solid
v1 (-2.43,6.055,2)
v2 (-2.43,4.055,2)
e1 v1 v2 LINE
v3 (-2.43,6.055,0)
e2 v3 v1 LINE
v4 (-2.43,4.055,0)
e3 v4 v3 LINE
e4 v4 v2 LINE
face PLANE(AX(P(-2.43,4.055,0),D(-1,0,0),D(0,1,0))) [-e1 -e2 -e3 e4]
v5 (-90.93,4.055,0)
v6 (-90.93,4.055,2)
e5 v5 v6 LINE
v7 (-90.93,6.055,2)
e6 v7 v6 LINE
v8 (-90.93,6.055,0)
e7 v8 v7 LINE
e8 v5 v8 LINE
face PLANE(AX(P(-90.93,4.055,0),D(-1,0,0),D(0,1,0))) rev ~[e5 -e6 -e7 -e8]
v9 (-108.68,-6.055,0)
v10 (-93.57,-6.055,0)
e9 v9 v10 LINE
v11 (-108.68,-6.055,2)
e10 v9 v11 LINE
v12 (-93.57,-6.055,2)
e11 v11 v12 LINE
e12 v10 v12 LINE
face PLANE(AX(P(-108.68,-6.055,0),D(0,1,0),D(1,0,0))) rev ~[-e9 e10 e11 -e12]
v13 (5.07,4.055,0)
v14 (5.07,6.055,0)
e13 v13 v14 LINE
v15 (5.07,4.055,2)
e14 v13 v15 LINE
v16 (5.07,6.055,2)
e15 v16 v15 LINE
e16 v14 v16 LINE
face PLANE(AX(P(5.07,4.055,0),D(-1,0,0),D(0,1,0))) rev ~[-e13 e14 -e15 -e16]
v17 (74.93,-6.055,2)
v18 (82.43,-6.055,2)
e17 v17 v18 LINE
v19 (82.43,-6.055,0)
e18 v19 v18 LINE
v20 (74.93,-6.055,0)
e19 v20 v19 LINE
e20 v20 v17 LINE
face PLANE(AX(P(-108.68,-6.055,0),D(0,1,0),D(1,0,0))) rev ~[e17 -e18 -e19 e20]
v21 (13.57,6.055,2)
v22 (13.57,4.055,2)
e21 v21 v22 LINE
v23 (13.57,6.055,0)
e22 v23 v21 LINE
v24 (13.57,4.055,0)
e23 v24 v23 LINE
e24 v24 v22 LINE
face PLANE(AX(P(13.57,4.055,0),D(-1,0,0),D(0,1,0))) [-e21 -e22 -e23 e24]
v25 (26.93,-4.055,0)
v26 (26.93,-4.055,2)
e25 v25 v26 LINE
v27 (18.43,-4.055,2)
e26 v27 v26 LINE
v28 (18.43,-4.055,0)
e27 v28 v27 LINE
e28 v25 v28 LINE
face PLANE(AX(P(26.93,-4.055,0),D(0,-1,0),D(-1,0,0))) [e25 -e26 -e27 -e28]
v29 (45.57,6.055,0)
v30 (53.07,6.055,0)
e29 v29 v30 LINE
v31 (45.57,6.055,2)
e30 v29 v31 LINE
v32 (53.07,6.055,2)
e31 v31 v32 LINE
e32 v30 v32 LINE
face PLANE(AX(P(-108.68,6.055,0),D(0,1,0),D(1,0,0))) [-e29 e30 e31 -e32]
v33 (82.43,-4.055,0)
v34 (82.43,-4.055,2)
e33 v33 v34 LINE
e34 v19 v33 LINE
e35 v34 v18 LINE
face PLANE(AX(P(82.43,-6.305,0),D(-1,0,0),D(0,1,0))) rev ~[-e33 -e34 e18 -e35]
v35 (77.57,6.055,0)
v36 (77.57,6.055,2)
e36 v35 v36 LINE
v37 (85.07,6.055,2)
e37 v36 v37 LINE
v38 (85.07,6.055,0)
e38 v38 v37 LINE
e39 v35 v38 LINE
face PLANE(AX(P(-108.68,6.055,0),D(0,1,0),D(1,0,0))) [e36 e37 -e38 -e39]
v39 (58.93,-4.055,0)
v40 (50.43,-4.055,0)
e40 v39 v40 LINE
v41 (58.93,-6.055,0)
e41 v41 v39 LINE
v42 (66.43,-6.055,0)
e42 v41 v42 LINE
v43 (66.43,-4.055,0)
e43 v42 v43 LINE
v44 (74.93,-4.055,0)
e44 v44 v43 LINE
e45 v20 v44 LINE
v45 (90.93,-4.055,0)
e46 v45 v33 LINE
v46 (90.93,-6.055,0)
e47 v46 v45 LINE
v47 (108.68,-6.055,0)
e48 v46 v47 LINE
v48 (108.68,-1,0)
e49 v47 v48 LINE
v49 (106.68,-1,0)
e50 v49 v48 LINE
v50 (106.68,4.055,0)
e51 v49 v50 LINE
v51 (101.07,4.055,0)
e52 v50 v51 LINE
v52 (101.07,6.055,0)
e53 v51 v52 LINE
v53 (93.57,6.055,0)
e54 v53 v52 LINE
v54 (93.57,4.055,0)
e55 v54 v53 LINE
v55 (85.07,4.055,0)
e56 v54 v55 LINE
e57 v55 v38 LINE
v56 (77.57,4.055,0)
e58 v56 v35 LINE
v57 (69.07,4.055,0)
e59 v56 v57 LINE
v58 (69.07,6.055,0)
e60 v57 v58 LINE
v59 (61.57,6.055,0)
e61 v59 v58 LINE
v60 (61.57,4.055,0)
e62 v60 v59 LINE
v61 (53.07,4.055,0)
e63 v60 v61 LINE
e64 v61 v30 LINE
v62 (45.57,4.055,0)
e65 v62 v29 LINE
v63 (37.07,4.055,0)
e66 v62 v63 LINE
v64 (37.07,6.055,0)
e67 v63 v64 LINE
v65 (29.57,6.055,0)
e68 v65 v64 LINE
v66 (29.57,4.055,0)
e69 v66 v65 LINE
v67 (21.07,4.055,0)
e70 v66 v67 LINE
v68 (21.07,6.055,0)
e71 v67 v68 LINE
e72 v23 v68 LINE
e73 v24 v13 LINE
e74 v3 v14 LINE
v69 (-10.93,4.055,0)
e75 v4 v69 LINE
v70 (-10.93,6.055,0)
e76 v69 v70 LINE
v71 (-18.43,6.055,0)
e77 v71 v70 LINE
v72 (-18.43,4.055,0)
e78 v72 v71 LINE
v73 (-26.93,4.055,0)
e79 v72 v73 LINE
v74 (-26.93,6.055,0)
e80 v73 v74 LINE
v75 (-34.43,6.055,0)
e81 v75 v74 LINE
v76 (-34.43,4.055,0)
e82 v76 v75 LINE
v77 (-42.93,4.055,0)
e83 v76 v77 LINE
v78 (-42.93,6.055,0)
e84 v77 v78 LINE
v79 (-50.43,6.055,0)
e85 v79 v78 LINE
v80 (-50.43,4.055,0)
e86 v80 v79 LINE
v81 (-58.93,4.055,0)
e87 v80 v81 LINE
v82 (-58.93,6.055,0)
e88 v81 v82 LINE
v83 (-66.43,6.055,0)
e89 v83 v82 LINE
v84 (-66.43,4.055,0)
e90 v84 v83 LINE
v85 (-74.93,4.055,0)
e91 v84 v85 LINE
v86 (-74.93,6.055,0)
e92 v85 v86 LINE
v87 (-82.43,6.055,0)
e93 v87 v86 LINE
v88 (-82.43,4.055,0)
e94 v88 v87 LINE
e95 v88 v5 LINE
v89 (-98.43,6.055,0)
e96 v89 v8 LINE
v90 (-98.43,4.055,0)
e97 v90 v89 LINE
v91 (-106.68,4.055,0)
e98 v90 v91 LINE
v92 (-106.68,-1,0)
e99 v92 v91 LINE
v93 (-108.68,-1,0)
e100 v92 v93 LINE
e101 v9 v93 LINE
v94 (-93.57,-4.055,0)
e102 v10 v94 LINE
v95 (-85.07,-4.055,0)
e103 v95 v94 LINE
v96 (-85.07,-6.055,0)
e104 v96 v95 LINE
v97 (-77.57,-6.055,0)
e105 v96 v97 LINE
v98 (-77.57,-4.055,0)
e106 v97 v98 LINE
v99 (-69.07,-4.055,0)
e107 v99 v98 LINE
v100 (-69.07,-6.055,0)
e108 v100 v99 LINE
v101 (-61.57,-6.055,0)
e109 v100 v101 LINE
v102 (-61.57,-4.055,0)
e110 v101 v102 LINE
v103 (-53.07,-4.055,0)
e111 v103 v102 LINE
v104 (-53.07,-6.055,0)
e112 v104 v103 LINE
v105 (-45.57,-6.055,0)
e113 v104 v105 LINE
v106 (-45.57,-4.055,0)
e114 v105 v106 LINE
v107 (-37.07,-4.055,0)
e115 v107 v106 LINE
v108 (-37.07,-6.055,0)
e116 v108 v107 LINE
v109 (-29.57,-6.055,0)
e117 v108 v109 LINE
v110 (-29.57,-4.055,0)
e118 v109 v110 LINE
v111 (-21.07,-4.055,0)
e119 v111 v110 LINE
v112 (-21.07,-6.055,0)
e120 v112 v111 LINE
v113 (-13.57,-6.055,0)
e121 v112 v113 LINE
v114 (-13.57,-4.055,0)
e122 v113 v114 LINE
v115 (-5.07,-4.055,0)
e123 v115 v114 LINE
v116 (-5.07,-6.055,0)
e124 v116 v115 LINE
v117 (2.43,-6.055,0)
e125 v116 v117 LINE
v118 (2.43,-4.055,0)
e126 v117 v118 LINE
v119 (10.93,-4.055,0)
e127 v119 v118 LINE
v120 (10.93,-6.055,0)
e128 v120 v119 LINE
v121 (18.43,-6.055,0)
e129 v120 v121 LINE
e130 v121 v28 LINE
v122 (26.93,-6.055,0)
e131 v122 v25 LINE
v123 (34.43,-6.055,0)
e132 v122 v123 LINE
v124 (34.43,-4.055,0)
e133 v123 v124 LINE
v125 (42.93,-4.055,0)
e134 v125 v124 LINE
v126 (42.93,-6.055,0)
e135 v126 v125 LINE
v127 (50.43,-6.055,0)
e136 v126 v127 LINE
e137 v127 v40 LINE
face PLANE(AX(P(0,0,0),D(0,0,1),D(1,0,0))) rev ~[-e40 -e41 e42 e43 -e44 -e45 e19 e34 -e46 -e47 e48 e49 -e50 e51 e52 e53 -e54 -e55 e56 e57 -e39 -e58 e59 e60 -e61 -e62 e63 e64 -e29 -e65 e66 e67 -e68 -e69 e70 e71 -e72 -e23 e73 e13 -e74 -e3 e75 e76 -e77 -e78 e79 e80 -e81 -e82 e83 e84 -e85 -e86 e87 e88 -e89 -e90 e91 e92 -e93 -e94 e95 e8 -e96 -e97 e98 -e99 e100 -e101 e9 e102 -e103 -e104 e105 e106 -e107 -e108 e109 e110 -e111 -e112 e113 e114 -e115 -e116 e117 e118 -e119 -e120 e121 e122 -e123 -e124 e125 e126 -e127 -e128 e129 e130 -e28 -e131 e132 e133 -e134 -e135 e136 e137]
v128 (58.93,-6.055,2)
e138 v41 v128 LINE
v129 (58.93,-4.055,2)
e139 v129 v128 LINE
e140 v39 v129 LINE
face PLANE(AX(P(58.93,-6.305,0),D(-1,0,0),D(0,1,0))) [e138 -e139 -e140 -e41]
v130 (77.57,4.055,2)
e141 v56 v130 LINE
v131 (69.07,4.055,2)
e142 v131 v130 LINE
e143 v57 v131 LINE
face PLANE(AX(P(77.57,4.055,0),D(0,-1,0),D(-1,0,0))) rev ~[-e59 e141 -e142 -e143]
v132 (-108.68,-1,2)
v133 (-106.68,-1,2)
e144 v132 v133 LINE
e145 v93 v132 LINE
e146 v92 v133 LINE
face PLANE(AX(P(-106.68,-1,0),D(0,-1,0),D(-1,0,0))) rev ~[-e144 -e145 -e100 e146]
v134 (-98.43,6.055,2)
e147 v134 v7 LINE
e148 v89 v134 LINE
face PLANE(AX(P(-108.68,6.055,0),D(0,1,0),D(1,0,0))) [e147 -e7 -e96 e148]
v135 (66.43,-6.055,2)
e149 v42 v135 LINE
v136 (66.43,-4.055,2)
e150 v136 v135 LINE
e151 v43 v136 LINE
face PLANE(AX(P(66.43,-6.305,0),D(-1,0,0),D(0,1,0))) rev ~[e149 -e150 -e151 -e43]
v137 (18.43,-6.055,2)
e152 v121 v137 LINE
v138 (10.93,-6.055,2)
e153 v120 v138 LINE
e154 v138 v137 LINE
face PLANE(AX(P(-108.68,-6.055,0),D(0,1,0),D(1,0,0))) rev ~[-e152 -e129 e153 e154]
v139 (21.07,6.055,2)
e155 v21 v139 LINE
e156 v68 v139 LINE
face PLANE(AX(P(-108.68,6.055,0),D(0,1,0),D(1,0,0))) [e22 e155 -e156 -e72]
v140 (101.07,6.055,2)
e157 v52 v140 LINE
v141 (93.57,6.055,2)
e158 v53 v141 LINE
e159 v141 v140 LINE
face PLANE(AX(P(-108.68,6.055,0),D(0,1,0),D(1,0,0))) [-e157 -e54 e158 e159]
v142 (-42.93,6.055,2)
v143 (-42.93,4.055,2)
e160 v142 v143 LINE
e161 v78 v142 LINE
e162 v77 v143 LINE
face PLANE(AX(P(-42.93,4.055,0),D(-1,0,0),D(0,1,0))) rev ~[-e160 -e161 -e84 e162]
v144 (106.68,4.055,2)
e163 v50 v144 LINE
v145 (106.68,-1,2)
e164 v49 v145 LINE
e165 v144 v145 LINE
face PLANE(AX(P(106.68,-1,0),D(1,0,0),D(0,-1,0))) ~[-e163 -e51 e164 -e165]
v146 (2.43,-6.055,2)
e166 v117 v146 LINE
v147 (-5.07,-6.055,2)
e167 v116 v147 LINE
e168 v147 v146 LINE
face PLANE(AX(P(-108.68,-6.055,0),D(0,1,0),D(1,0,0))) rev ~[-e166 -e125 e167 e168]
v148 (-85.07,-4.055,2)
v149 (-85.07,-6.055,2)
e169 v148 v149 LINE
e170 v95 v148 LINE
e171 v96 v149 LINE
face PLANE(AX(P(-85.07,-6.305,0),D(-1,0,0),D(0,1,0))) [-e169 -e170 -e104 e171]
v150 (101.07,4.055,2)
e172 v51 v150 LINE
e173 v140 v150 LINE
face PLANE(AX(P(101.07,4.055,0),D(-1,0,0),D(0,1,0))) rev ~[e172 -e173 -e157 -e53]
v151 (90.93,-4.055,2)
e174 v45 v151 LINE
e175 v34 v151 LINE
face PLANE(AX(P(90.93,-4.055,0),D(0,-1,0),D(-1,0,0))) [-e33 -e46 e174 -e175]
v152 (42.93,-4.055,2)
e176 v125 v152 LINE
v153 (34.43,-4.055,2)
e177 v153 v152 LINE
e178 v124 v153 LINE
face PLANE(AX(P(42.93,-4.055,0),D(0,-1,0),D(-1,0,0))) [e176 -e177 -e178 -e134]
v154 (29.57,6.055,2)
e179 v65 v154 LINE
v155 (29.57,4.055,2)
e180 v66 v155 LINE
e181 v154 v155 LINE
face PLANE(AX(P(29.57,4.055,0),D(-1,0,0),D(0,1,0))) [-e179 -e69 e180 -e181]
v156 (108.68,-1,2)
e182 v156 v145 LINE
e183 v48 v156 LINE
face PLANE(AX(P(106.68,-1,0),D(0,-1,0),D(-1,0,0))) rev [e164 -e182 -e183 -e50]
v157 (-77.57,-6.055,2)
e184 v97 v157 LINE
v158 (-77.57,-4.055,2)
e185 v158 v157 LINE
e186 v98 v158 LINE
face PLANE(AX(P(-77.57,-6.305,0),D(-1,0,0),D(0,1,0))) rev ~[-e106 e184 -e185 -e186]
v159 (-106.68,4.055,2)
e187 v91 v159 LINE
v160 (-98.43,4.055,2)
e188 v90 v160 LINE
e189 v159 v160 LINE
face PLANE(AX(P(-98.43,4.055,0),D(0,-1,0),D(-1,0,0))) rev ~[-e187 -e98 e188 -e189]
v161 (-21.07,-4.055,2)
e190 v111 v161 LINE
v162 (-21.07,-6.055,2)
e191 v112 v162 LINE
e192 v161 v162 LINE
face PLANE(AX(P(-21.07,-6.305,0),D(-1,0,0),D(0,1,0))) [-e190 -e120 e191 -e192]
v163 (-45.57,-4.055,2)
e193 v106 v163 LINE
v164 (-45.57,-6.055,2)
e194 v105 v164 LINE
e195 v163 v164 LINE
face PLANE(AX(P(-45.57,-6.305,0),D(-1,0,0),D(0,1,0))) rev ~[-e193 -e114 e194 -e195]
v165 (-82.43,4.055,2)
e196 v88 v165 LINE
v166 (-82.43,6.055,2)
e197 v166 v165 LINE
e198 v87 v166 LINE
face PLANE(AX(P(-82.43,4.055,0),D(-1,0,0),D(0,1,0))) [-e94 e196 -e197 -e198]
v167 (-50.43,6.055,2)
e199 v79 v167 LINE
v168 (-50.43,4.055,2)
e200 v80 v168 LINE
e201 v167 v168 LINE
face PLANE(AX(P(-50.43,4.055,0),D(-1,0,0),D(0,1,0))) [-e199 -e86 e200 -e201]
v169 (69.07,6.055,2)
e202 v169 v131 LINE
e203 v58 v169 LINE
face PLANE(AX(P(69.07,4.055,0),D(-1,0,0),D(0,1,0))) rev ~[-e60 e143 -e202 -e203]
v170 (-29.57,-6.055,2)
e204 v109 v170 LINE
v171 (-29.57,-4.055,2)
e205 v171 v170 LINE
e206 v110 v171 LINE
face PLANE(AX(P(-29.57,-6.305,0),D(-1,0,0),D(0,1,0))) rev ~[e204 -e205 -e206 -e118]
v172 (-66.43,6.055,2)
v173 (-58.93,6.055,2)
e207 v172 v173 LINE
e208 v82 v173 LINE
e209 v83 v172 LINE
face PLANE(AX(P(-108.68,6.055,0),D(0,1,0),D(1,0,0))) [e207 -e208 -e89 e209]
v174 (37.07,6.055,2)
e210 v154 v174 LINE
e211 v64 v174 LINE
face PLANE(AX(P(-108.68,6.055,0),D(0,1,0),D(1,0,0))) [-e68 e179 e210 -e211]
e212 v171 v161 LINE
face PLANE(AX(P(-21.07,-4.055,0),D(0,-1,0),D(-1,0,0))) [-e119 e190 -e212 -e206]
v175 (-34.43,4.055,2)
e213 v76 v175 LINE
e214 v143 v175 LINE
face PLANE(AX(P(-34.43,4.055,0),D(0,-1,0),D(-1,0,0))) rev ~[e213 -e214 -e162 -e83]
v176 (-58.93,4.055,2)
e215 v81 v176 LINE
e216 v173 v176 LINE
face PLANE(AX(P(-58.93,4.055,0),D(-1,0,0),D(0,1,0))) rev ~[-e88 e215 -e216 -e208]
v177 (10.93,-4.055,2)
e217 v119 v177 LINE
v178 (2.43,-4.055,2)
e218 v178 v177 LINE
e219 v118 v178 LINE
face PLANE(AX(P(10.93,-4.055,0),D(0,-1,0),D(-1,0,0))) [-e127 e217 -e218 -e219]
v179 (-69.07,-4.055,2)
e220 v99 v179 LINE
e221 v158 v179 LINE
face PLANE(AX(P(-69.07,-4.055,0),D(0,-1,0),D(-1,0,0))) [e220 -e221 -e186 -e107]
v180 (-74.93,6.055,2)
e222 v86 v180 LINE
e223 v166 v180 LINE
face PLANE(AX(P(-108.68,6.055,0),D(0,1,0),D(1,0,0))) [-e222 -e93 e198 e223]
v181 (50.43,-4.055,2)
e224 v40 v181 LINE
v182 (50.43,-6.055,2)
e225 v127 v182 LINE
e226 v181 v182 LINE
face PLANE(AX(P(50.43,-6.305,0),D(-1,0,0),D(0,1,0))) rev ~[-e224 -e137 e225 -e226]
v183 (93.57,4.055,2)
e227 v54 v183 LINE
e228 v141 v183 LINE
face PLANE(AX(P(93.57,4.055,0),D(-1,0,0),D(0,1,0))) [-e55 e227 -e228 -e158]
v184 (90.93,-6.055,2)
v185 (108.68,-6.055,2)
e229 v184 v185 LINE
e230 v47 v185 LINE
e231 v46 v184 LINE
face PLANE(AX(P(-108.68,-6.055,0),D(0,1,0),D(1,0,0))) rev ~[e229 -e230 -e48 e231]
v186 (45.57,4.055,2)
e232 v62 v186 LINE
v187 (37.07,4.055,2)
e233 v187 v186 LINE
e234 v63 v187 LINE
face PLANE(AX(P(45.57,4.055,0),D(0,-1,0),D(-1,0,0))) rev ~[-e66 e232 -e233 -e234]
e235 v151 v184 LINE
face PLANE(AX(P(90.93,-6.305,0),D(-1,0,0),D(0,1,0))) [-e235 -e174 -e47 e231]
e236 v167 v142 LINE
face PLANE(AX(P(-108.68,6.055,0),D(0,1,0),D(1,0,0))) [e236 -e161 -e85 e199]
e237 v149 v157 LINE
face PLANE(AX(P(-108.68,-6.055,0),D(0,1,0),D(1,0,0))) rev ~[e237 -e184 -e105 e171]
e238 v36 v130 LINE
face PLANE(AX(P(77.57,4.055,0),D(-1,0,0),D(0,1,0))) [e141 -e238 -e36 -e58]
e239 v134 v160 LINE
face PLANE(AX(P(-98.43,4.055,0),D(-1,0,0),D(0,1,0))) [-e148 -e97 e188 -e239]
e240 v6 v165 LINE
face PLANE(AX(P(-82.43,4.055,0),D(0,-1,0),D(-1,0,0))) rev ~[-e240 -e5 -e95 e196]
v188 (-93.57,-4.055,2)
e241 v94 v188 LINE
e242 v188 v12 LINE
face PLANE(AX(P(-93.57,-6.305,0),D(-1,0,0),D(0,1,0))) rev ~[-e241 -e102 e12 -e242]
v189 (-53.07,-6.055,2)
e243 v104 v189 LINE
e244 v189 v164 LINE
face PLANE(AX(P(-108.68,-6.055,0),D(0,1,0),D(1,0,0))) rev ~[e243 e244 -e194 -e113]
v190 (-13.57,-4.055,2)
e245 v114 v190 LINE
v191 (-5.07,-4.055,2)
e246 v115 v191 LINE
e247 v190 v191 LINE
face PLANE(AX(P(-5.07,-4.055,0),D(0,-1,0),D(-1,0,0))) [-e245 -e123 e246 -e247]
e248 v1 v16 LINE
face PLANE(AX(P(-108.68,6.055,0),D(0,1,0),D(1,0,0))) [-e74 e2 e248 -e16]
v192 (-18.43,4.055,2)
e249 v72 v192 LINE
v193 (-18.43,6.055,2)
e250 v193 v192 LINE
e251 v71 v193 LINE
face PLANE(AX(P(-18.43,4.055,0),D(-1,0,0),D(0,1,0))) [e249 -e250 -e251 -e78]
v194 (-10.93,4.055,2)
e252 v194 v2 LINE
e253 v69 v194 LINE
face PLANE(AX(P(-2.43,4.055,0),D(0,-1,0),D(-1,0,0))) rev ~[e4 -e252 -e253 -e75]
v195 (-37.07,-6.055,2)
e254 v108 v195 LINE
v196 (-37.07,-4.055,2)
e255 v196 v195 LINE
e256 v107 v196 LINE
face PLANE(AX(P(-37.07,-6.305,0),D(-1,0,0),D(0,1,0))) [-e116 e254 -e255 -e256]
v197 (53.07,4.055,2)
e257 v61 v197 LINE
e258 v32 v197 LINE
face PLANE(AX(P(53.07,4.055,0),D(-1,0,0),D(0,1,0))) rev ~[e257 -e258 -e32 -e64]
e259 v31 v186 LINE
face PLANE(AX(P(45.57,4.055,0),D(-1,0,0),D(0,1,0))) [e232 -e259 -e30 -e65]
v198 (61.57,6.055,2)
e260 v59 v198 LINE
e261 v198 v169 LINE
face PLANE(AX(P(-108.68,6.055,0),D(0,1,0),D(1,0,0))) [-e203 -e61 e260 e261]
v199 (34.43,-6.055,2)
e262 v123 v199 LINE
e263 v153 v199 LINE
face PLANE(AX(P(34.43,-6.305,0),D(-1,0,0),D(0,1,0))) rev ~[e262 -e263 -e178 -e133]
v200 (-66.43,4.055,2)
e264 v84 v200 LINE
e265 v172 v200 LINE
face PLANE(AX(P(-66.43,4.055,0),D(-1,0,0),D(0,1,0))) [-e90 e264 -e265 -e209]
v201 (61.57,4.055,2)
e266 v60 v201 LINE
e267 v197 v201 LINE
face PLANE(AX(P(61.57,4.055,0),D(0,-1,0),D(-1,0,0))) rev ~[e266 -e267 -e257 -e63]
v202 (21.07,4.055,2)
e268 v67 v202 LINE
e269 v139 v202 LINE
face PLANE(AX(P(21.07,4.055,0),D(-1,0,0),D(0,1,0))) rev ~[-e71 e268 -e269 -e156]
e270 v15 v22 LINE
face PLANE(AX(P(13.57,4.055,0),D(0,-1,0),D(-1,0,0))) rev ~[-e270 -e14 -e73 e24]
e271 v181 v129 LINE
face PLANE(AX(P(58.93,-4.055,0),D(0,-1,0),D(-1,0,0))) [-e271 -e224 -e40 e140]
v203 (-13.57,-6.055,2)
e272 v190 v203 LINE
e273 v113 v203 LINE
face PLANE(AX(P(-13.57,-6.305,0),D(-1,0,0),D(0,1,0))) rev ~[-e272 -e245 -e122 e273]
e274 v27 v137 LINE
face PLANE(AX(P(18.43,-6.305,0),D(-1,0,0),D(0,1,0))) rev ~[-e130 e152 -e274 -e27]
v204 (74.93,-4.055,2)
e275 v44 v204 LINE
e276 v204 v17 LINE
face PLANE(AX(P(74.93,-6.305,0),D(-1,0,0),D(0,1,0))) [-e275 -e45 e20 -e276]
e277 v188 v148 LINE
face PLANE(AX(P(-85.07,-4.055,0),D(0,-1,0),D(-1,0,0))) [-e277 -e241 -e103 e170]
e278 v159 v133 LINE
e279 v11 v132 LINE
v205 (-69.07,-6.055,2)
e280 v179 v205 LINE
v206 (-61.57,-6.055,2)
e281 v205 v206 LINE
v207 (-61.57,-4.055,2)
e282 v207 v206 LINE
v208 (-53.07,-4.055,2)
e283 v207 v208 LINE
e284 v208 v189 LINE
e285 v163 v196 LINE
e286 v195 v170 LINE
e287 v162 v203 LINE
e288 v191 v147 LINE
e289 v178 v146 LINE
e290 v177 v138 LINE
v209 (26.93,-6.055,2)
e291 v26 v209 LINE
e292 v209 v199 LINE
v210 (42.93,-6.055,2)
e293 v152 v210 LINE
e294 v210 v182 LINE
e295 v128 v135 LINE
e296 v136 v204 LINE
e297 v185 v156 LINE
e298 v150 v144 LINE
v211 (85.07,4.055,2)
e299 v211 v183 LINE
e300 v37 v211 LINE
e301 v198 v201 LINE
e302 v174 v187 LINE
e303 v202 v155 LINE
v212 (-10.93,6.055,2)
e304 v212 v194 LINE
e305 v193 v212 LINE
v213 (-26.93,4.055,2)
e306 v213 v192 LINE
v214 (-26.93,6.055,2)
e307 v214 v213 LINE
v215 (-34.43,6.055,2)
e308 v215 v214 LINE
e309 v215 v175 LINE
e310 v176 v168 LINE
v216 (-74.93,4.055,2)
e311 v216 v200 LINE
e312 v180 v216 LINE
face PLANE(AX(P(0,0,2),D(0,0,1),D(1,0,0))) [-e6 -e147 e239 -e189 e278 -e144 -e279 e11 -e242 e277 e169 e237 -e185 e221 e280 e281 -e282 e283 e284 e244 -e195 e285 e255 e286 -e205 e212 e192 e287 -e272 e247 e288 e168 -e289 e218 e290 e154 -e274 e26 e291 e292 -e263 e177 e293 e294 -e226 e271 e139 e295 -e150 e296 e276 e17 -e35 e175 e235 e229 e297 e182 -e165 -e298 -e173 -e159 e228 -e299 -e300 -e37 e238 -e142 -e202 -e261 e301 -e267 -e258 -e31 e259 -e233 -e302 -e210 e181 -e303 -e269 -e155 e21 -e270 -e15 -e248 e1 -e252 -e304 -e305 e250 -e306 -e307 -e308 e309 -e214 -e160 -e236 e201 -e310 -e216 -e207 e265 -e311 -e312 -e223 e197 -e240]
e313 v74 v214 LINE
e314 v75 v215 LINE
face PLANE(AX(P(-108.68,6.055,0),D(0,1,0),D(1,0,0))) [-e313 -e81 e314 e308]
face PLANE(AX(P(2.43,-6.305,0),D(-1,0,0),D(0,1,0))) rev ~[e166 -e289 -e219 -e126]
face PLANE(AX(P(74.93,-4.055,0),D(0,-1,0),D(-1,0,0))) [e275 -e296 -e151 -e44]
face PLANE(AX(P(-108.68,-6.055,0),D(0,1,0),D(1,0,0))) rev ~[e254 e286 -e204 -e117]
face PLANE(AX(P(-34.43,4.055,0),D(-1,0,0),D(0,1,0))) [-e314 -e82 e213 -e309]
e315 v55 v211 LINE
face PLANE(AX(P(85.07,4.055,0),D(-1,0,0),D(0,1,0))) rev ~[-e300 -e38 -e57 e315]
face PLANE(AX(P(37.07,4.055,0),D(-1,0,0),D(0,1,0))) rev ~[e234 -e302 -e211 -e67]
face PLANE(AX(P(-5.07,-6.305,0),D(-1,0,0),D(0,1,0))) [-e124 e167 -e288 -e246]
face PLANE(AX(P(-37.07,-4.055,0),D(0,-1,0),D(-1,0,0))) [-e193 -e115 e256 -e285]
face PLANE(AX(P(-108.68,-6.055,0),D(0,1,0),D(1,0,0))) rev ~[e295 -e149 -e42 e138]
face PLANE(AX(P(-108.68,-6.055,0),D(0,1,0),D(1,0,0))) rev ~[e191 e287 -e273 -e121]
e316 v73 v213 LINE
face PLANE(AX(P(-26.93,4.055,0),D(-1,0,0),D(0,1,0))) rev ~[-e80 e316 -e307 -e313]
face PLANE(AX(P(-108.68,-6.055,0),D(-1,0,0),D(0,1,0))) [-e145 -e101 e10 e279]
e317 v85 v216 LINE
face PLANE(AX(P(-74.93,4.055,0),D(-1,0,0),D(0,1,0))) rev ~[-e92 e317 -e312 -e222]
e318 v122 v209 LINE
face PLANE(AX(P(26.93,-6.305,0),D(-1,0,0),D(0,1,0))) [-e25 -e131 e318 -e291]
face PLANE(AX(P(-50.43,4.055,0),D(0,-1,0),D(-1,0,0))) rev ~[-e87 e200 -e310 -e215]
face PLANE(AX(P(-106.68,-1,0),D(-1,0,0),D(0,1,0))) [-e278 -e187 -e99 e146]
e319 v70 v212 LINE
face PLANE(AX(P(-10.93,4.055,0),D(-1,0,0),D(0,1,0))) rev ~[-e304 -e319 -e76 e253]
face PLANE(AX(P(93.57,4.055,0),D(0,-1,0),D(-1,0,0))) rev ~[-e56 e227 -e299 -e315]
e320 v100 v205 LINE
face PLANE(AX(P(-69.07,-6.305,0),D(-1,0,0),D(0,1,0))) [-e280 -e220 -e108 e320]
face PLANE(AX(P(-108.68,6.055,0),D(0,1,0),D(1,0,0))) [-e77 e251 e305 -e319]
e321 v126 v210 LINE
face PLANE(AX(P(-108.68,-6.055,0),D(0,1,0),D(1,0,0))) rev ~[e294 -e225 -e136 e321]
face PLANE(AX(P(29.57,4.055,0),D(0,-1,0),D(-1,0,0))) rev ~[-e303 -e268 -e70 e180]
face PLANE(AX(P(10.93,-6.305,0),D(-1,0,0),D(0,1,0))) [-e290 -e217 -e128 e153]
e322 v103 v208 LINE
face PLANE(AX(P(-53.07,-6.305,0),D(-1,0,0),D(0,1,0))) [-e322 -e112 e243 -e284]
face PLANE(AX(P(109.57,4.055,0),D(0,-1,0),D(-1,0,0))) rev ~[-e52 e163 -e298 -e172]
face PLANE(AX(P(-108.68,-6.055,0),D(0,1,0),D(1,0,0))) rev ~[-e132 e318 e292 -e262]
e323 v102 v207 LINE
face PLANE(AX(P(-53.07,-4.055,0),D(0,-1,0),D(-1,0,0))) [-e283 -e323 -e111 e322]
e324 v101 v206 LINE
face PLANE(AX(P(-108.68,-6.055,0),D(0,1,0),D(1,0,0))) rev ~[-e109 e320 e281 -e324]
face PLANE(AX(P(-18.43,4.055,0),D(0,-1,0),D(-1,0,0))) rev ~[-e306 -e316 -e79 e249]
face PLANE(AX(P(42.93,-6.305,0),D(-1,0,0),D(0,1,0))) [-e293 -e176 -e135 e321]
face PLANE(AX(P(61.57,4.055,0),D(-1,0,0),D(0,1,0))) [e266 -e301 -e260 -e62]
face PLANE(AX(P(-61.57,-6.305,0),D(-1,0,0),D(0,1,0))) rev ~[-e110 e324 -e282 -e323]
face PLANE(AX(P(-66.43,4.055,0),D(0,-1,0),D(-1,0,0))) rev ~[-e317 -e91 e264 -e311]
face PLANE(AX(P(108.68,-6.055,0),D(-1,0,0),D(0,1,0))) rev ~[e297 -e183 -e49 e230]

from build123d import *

# Parameters (mm, degrees)
ESQUISSE1_W             = 217.36
ESQUISSE1_H             = 12.11
BOSS_EXTRU_1_DEPTH      = 2
ESQUISSE2_W             = 8.5
ESQUISSE2_H             = 2.25
ESQUISSE2_W_2           = 10.5
ENL_V_MAT_EXTRU_1_DEPTH = 109.866916118
ESQUISSE4_W             = 2
ESQUISSE4_H             = 5.055
ENL_V_MAT_EXTRU_2_DEPTH = 109.866916118


with BuildPart() as part:
    # Esquisse1 → Boss.-Extru.1 (new body)
    with BuildSketch(Plane.XY):
        Rectangle(ESQUISSE1_W, ESQUISSE1_H)
    extrude(amount=BOSS_EXTRU_1_DEPTH)

    # Esquisse2 → Enlèv. mat.-Extru.1 (cut, through all)
    with BuildSketch(Plane(origin=(0, 0, 0), x_dir=(-1, 0, 0), z_dir=(0, 0, -1))):
        with Locations((-105.32, 5.18)):
            Rectangle(ESQUISSE2_W, ESQUISSE2_H)
        with Locations((-89.32, 5.18)):
            Rectangle(ESQUISSE2_W, ESQUISSE2_H)
        with Locations((-73.32, 5.18)):
            Rectangle(ESQUISSE2_W, ESQUISSE2_H)
        with Locations((-57.32, 5.18)):
            Rectangle(ESQUISSE2_W, ESQUISSE2_H)
        with Locations((-41.32, 5.18)):
            Rectangle(ESQUISSE2_W, ESQUISSE2_H)
        with Locations((-25.32, 5.18)):
            Rectangle(ESQUISSE2_W, ESQUISSE2_H)
        with Locations((-9.32, 5.18)):
            Rectangle(ESQUISSE2_W, ESQUISSE2_H)
        with Locations((6.68, 5.18)):
            Rectangle(ESQUISSE2_W, ESQUISSE2_H)
        with Locations((22.68, 5.18)):
            Rectangle(ESQUISSE2_W, ESQUISSE2_H)
        with Locations((38.68, 5.18)):
            Rectangle(ESQUISSE2_W, ESQUISSE2_H)
        with Locations((54.68, 5.18)):
            Rectangle(ESQUISSE2_W, ESQUISSE2_H)
        with Locations((70.68, 5.18)):
            Rectangle(ESQUISSE2_W, ESQUISSE2_H)
        with Locations((86.68, 5.18)):
            Rectangle(ESQUISSE2_W, ESQUISSE2_H)
        with Locations((103.68, 5.18)):
            Rectangle(ESQUISSE2_W_2, ESQUISSE2_H)
        with Locations((-86.68, -5.18)):
            Rectangle(ESQUISSE2_W, ESQUISSE2_H)
        with Locations((-70.68, -5.18)):
            Rectangle(ESQUISSE2_W, ESQUISSE2_H)
        with Locations((-54.68, -5.18)):
            Rectangle(ESQUISSE2_W, ESQUISSE2_H)
        with Locations((-38.68, -5.18)):
            Rectangle(ESQUISSE2_W, ESQUISSE2_H)
        with Locations((-22.68, -5.18)):
            Rectangle(ESQUISSE2_W, ESQUISSE2_H)
        with Locations((-6.68, -5.18)):
            Rectangle(ESQUISSE2_W, ESQUISSE2_H)
        with Locations((9.32, -5.18)):
            Rectangle(ESQUISSE2_W, ESQUISSE2_H)
        with Locations((25.32, -5.18)):
            Rectangle(ESQUISSE2_W, ESQUISSE2_H)
        with Locations((41.32, -5.18)):
            Rectangle(ESQUISSE2_W, ESQUISSE2_H)
        with Locations((57.32, -5.18)):
            Rectangle(ESQUISSE2_W, ESQUISSE2_H)
        with Locations((73.32, -5.18)):
            Rectangle(ESQUISSE2_W, ESQUISSE2_H)
        with Locations((89.32, -5.18)):
            Rectangle(ESQUISSE2_W, ESQUISSE2_H)
    extrude(amount=-ENL_V_MAT_EXTRU_1_DEPTH, mode=Mode.SUBTRACT)

    # Esquisse4 → Enlèv. mat.-Extru.2 (cut, through all)
    with BuildSketch(Plane(origin=(0, 0, 0), x_dir=(-1, 0, 0), z_dir=(0, 0, -1))):
        with Locations((107.68, 1.5275)):
            Rectangle(ESQUISSE4_W, ESQUISSE4_H)
    enl_v_mat_extru_2 = extrude(amount=-ENL_V_MAT_EXTRU_2_DEPTH, mode=Mode.SUBTRACT)

    # Symétrie1: Enlèv. mat.-Extru.2 across plane
    add(enl_v_mat_extru_2.mirror(Plane(origin=(0, 0, 0), x_dir=(0, 0, 1), z_dir=(1, 0, 0))), mode=Mode.SUBTRACT)


solid = part.part
